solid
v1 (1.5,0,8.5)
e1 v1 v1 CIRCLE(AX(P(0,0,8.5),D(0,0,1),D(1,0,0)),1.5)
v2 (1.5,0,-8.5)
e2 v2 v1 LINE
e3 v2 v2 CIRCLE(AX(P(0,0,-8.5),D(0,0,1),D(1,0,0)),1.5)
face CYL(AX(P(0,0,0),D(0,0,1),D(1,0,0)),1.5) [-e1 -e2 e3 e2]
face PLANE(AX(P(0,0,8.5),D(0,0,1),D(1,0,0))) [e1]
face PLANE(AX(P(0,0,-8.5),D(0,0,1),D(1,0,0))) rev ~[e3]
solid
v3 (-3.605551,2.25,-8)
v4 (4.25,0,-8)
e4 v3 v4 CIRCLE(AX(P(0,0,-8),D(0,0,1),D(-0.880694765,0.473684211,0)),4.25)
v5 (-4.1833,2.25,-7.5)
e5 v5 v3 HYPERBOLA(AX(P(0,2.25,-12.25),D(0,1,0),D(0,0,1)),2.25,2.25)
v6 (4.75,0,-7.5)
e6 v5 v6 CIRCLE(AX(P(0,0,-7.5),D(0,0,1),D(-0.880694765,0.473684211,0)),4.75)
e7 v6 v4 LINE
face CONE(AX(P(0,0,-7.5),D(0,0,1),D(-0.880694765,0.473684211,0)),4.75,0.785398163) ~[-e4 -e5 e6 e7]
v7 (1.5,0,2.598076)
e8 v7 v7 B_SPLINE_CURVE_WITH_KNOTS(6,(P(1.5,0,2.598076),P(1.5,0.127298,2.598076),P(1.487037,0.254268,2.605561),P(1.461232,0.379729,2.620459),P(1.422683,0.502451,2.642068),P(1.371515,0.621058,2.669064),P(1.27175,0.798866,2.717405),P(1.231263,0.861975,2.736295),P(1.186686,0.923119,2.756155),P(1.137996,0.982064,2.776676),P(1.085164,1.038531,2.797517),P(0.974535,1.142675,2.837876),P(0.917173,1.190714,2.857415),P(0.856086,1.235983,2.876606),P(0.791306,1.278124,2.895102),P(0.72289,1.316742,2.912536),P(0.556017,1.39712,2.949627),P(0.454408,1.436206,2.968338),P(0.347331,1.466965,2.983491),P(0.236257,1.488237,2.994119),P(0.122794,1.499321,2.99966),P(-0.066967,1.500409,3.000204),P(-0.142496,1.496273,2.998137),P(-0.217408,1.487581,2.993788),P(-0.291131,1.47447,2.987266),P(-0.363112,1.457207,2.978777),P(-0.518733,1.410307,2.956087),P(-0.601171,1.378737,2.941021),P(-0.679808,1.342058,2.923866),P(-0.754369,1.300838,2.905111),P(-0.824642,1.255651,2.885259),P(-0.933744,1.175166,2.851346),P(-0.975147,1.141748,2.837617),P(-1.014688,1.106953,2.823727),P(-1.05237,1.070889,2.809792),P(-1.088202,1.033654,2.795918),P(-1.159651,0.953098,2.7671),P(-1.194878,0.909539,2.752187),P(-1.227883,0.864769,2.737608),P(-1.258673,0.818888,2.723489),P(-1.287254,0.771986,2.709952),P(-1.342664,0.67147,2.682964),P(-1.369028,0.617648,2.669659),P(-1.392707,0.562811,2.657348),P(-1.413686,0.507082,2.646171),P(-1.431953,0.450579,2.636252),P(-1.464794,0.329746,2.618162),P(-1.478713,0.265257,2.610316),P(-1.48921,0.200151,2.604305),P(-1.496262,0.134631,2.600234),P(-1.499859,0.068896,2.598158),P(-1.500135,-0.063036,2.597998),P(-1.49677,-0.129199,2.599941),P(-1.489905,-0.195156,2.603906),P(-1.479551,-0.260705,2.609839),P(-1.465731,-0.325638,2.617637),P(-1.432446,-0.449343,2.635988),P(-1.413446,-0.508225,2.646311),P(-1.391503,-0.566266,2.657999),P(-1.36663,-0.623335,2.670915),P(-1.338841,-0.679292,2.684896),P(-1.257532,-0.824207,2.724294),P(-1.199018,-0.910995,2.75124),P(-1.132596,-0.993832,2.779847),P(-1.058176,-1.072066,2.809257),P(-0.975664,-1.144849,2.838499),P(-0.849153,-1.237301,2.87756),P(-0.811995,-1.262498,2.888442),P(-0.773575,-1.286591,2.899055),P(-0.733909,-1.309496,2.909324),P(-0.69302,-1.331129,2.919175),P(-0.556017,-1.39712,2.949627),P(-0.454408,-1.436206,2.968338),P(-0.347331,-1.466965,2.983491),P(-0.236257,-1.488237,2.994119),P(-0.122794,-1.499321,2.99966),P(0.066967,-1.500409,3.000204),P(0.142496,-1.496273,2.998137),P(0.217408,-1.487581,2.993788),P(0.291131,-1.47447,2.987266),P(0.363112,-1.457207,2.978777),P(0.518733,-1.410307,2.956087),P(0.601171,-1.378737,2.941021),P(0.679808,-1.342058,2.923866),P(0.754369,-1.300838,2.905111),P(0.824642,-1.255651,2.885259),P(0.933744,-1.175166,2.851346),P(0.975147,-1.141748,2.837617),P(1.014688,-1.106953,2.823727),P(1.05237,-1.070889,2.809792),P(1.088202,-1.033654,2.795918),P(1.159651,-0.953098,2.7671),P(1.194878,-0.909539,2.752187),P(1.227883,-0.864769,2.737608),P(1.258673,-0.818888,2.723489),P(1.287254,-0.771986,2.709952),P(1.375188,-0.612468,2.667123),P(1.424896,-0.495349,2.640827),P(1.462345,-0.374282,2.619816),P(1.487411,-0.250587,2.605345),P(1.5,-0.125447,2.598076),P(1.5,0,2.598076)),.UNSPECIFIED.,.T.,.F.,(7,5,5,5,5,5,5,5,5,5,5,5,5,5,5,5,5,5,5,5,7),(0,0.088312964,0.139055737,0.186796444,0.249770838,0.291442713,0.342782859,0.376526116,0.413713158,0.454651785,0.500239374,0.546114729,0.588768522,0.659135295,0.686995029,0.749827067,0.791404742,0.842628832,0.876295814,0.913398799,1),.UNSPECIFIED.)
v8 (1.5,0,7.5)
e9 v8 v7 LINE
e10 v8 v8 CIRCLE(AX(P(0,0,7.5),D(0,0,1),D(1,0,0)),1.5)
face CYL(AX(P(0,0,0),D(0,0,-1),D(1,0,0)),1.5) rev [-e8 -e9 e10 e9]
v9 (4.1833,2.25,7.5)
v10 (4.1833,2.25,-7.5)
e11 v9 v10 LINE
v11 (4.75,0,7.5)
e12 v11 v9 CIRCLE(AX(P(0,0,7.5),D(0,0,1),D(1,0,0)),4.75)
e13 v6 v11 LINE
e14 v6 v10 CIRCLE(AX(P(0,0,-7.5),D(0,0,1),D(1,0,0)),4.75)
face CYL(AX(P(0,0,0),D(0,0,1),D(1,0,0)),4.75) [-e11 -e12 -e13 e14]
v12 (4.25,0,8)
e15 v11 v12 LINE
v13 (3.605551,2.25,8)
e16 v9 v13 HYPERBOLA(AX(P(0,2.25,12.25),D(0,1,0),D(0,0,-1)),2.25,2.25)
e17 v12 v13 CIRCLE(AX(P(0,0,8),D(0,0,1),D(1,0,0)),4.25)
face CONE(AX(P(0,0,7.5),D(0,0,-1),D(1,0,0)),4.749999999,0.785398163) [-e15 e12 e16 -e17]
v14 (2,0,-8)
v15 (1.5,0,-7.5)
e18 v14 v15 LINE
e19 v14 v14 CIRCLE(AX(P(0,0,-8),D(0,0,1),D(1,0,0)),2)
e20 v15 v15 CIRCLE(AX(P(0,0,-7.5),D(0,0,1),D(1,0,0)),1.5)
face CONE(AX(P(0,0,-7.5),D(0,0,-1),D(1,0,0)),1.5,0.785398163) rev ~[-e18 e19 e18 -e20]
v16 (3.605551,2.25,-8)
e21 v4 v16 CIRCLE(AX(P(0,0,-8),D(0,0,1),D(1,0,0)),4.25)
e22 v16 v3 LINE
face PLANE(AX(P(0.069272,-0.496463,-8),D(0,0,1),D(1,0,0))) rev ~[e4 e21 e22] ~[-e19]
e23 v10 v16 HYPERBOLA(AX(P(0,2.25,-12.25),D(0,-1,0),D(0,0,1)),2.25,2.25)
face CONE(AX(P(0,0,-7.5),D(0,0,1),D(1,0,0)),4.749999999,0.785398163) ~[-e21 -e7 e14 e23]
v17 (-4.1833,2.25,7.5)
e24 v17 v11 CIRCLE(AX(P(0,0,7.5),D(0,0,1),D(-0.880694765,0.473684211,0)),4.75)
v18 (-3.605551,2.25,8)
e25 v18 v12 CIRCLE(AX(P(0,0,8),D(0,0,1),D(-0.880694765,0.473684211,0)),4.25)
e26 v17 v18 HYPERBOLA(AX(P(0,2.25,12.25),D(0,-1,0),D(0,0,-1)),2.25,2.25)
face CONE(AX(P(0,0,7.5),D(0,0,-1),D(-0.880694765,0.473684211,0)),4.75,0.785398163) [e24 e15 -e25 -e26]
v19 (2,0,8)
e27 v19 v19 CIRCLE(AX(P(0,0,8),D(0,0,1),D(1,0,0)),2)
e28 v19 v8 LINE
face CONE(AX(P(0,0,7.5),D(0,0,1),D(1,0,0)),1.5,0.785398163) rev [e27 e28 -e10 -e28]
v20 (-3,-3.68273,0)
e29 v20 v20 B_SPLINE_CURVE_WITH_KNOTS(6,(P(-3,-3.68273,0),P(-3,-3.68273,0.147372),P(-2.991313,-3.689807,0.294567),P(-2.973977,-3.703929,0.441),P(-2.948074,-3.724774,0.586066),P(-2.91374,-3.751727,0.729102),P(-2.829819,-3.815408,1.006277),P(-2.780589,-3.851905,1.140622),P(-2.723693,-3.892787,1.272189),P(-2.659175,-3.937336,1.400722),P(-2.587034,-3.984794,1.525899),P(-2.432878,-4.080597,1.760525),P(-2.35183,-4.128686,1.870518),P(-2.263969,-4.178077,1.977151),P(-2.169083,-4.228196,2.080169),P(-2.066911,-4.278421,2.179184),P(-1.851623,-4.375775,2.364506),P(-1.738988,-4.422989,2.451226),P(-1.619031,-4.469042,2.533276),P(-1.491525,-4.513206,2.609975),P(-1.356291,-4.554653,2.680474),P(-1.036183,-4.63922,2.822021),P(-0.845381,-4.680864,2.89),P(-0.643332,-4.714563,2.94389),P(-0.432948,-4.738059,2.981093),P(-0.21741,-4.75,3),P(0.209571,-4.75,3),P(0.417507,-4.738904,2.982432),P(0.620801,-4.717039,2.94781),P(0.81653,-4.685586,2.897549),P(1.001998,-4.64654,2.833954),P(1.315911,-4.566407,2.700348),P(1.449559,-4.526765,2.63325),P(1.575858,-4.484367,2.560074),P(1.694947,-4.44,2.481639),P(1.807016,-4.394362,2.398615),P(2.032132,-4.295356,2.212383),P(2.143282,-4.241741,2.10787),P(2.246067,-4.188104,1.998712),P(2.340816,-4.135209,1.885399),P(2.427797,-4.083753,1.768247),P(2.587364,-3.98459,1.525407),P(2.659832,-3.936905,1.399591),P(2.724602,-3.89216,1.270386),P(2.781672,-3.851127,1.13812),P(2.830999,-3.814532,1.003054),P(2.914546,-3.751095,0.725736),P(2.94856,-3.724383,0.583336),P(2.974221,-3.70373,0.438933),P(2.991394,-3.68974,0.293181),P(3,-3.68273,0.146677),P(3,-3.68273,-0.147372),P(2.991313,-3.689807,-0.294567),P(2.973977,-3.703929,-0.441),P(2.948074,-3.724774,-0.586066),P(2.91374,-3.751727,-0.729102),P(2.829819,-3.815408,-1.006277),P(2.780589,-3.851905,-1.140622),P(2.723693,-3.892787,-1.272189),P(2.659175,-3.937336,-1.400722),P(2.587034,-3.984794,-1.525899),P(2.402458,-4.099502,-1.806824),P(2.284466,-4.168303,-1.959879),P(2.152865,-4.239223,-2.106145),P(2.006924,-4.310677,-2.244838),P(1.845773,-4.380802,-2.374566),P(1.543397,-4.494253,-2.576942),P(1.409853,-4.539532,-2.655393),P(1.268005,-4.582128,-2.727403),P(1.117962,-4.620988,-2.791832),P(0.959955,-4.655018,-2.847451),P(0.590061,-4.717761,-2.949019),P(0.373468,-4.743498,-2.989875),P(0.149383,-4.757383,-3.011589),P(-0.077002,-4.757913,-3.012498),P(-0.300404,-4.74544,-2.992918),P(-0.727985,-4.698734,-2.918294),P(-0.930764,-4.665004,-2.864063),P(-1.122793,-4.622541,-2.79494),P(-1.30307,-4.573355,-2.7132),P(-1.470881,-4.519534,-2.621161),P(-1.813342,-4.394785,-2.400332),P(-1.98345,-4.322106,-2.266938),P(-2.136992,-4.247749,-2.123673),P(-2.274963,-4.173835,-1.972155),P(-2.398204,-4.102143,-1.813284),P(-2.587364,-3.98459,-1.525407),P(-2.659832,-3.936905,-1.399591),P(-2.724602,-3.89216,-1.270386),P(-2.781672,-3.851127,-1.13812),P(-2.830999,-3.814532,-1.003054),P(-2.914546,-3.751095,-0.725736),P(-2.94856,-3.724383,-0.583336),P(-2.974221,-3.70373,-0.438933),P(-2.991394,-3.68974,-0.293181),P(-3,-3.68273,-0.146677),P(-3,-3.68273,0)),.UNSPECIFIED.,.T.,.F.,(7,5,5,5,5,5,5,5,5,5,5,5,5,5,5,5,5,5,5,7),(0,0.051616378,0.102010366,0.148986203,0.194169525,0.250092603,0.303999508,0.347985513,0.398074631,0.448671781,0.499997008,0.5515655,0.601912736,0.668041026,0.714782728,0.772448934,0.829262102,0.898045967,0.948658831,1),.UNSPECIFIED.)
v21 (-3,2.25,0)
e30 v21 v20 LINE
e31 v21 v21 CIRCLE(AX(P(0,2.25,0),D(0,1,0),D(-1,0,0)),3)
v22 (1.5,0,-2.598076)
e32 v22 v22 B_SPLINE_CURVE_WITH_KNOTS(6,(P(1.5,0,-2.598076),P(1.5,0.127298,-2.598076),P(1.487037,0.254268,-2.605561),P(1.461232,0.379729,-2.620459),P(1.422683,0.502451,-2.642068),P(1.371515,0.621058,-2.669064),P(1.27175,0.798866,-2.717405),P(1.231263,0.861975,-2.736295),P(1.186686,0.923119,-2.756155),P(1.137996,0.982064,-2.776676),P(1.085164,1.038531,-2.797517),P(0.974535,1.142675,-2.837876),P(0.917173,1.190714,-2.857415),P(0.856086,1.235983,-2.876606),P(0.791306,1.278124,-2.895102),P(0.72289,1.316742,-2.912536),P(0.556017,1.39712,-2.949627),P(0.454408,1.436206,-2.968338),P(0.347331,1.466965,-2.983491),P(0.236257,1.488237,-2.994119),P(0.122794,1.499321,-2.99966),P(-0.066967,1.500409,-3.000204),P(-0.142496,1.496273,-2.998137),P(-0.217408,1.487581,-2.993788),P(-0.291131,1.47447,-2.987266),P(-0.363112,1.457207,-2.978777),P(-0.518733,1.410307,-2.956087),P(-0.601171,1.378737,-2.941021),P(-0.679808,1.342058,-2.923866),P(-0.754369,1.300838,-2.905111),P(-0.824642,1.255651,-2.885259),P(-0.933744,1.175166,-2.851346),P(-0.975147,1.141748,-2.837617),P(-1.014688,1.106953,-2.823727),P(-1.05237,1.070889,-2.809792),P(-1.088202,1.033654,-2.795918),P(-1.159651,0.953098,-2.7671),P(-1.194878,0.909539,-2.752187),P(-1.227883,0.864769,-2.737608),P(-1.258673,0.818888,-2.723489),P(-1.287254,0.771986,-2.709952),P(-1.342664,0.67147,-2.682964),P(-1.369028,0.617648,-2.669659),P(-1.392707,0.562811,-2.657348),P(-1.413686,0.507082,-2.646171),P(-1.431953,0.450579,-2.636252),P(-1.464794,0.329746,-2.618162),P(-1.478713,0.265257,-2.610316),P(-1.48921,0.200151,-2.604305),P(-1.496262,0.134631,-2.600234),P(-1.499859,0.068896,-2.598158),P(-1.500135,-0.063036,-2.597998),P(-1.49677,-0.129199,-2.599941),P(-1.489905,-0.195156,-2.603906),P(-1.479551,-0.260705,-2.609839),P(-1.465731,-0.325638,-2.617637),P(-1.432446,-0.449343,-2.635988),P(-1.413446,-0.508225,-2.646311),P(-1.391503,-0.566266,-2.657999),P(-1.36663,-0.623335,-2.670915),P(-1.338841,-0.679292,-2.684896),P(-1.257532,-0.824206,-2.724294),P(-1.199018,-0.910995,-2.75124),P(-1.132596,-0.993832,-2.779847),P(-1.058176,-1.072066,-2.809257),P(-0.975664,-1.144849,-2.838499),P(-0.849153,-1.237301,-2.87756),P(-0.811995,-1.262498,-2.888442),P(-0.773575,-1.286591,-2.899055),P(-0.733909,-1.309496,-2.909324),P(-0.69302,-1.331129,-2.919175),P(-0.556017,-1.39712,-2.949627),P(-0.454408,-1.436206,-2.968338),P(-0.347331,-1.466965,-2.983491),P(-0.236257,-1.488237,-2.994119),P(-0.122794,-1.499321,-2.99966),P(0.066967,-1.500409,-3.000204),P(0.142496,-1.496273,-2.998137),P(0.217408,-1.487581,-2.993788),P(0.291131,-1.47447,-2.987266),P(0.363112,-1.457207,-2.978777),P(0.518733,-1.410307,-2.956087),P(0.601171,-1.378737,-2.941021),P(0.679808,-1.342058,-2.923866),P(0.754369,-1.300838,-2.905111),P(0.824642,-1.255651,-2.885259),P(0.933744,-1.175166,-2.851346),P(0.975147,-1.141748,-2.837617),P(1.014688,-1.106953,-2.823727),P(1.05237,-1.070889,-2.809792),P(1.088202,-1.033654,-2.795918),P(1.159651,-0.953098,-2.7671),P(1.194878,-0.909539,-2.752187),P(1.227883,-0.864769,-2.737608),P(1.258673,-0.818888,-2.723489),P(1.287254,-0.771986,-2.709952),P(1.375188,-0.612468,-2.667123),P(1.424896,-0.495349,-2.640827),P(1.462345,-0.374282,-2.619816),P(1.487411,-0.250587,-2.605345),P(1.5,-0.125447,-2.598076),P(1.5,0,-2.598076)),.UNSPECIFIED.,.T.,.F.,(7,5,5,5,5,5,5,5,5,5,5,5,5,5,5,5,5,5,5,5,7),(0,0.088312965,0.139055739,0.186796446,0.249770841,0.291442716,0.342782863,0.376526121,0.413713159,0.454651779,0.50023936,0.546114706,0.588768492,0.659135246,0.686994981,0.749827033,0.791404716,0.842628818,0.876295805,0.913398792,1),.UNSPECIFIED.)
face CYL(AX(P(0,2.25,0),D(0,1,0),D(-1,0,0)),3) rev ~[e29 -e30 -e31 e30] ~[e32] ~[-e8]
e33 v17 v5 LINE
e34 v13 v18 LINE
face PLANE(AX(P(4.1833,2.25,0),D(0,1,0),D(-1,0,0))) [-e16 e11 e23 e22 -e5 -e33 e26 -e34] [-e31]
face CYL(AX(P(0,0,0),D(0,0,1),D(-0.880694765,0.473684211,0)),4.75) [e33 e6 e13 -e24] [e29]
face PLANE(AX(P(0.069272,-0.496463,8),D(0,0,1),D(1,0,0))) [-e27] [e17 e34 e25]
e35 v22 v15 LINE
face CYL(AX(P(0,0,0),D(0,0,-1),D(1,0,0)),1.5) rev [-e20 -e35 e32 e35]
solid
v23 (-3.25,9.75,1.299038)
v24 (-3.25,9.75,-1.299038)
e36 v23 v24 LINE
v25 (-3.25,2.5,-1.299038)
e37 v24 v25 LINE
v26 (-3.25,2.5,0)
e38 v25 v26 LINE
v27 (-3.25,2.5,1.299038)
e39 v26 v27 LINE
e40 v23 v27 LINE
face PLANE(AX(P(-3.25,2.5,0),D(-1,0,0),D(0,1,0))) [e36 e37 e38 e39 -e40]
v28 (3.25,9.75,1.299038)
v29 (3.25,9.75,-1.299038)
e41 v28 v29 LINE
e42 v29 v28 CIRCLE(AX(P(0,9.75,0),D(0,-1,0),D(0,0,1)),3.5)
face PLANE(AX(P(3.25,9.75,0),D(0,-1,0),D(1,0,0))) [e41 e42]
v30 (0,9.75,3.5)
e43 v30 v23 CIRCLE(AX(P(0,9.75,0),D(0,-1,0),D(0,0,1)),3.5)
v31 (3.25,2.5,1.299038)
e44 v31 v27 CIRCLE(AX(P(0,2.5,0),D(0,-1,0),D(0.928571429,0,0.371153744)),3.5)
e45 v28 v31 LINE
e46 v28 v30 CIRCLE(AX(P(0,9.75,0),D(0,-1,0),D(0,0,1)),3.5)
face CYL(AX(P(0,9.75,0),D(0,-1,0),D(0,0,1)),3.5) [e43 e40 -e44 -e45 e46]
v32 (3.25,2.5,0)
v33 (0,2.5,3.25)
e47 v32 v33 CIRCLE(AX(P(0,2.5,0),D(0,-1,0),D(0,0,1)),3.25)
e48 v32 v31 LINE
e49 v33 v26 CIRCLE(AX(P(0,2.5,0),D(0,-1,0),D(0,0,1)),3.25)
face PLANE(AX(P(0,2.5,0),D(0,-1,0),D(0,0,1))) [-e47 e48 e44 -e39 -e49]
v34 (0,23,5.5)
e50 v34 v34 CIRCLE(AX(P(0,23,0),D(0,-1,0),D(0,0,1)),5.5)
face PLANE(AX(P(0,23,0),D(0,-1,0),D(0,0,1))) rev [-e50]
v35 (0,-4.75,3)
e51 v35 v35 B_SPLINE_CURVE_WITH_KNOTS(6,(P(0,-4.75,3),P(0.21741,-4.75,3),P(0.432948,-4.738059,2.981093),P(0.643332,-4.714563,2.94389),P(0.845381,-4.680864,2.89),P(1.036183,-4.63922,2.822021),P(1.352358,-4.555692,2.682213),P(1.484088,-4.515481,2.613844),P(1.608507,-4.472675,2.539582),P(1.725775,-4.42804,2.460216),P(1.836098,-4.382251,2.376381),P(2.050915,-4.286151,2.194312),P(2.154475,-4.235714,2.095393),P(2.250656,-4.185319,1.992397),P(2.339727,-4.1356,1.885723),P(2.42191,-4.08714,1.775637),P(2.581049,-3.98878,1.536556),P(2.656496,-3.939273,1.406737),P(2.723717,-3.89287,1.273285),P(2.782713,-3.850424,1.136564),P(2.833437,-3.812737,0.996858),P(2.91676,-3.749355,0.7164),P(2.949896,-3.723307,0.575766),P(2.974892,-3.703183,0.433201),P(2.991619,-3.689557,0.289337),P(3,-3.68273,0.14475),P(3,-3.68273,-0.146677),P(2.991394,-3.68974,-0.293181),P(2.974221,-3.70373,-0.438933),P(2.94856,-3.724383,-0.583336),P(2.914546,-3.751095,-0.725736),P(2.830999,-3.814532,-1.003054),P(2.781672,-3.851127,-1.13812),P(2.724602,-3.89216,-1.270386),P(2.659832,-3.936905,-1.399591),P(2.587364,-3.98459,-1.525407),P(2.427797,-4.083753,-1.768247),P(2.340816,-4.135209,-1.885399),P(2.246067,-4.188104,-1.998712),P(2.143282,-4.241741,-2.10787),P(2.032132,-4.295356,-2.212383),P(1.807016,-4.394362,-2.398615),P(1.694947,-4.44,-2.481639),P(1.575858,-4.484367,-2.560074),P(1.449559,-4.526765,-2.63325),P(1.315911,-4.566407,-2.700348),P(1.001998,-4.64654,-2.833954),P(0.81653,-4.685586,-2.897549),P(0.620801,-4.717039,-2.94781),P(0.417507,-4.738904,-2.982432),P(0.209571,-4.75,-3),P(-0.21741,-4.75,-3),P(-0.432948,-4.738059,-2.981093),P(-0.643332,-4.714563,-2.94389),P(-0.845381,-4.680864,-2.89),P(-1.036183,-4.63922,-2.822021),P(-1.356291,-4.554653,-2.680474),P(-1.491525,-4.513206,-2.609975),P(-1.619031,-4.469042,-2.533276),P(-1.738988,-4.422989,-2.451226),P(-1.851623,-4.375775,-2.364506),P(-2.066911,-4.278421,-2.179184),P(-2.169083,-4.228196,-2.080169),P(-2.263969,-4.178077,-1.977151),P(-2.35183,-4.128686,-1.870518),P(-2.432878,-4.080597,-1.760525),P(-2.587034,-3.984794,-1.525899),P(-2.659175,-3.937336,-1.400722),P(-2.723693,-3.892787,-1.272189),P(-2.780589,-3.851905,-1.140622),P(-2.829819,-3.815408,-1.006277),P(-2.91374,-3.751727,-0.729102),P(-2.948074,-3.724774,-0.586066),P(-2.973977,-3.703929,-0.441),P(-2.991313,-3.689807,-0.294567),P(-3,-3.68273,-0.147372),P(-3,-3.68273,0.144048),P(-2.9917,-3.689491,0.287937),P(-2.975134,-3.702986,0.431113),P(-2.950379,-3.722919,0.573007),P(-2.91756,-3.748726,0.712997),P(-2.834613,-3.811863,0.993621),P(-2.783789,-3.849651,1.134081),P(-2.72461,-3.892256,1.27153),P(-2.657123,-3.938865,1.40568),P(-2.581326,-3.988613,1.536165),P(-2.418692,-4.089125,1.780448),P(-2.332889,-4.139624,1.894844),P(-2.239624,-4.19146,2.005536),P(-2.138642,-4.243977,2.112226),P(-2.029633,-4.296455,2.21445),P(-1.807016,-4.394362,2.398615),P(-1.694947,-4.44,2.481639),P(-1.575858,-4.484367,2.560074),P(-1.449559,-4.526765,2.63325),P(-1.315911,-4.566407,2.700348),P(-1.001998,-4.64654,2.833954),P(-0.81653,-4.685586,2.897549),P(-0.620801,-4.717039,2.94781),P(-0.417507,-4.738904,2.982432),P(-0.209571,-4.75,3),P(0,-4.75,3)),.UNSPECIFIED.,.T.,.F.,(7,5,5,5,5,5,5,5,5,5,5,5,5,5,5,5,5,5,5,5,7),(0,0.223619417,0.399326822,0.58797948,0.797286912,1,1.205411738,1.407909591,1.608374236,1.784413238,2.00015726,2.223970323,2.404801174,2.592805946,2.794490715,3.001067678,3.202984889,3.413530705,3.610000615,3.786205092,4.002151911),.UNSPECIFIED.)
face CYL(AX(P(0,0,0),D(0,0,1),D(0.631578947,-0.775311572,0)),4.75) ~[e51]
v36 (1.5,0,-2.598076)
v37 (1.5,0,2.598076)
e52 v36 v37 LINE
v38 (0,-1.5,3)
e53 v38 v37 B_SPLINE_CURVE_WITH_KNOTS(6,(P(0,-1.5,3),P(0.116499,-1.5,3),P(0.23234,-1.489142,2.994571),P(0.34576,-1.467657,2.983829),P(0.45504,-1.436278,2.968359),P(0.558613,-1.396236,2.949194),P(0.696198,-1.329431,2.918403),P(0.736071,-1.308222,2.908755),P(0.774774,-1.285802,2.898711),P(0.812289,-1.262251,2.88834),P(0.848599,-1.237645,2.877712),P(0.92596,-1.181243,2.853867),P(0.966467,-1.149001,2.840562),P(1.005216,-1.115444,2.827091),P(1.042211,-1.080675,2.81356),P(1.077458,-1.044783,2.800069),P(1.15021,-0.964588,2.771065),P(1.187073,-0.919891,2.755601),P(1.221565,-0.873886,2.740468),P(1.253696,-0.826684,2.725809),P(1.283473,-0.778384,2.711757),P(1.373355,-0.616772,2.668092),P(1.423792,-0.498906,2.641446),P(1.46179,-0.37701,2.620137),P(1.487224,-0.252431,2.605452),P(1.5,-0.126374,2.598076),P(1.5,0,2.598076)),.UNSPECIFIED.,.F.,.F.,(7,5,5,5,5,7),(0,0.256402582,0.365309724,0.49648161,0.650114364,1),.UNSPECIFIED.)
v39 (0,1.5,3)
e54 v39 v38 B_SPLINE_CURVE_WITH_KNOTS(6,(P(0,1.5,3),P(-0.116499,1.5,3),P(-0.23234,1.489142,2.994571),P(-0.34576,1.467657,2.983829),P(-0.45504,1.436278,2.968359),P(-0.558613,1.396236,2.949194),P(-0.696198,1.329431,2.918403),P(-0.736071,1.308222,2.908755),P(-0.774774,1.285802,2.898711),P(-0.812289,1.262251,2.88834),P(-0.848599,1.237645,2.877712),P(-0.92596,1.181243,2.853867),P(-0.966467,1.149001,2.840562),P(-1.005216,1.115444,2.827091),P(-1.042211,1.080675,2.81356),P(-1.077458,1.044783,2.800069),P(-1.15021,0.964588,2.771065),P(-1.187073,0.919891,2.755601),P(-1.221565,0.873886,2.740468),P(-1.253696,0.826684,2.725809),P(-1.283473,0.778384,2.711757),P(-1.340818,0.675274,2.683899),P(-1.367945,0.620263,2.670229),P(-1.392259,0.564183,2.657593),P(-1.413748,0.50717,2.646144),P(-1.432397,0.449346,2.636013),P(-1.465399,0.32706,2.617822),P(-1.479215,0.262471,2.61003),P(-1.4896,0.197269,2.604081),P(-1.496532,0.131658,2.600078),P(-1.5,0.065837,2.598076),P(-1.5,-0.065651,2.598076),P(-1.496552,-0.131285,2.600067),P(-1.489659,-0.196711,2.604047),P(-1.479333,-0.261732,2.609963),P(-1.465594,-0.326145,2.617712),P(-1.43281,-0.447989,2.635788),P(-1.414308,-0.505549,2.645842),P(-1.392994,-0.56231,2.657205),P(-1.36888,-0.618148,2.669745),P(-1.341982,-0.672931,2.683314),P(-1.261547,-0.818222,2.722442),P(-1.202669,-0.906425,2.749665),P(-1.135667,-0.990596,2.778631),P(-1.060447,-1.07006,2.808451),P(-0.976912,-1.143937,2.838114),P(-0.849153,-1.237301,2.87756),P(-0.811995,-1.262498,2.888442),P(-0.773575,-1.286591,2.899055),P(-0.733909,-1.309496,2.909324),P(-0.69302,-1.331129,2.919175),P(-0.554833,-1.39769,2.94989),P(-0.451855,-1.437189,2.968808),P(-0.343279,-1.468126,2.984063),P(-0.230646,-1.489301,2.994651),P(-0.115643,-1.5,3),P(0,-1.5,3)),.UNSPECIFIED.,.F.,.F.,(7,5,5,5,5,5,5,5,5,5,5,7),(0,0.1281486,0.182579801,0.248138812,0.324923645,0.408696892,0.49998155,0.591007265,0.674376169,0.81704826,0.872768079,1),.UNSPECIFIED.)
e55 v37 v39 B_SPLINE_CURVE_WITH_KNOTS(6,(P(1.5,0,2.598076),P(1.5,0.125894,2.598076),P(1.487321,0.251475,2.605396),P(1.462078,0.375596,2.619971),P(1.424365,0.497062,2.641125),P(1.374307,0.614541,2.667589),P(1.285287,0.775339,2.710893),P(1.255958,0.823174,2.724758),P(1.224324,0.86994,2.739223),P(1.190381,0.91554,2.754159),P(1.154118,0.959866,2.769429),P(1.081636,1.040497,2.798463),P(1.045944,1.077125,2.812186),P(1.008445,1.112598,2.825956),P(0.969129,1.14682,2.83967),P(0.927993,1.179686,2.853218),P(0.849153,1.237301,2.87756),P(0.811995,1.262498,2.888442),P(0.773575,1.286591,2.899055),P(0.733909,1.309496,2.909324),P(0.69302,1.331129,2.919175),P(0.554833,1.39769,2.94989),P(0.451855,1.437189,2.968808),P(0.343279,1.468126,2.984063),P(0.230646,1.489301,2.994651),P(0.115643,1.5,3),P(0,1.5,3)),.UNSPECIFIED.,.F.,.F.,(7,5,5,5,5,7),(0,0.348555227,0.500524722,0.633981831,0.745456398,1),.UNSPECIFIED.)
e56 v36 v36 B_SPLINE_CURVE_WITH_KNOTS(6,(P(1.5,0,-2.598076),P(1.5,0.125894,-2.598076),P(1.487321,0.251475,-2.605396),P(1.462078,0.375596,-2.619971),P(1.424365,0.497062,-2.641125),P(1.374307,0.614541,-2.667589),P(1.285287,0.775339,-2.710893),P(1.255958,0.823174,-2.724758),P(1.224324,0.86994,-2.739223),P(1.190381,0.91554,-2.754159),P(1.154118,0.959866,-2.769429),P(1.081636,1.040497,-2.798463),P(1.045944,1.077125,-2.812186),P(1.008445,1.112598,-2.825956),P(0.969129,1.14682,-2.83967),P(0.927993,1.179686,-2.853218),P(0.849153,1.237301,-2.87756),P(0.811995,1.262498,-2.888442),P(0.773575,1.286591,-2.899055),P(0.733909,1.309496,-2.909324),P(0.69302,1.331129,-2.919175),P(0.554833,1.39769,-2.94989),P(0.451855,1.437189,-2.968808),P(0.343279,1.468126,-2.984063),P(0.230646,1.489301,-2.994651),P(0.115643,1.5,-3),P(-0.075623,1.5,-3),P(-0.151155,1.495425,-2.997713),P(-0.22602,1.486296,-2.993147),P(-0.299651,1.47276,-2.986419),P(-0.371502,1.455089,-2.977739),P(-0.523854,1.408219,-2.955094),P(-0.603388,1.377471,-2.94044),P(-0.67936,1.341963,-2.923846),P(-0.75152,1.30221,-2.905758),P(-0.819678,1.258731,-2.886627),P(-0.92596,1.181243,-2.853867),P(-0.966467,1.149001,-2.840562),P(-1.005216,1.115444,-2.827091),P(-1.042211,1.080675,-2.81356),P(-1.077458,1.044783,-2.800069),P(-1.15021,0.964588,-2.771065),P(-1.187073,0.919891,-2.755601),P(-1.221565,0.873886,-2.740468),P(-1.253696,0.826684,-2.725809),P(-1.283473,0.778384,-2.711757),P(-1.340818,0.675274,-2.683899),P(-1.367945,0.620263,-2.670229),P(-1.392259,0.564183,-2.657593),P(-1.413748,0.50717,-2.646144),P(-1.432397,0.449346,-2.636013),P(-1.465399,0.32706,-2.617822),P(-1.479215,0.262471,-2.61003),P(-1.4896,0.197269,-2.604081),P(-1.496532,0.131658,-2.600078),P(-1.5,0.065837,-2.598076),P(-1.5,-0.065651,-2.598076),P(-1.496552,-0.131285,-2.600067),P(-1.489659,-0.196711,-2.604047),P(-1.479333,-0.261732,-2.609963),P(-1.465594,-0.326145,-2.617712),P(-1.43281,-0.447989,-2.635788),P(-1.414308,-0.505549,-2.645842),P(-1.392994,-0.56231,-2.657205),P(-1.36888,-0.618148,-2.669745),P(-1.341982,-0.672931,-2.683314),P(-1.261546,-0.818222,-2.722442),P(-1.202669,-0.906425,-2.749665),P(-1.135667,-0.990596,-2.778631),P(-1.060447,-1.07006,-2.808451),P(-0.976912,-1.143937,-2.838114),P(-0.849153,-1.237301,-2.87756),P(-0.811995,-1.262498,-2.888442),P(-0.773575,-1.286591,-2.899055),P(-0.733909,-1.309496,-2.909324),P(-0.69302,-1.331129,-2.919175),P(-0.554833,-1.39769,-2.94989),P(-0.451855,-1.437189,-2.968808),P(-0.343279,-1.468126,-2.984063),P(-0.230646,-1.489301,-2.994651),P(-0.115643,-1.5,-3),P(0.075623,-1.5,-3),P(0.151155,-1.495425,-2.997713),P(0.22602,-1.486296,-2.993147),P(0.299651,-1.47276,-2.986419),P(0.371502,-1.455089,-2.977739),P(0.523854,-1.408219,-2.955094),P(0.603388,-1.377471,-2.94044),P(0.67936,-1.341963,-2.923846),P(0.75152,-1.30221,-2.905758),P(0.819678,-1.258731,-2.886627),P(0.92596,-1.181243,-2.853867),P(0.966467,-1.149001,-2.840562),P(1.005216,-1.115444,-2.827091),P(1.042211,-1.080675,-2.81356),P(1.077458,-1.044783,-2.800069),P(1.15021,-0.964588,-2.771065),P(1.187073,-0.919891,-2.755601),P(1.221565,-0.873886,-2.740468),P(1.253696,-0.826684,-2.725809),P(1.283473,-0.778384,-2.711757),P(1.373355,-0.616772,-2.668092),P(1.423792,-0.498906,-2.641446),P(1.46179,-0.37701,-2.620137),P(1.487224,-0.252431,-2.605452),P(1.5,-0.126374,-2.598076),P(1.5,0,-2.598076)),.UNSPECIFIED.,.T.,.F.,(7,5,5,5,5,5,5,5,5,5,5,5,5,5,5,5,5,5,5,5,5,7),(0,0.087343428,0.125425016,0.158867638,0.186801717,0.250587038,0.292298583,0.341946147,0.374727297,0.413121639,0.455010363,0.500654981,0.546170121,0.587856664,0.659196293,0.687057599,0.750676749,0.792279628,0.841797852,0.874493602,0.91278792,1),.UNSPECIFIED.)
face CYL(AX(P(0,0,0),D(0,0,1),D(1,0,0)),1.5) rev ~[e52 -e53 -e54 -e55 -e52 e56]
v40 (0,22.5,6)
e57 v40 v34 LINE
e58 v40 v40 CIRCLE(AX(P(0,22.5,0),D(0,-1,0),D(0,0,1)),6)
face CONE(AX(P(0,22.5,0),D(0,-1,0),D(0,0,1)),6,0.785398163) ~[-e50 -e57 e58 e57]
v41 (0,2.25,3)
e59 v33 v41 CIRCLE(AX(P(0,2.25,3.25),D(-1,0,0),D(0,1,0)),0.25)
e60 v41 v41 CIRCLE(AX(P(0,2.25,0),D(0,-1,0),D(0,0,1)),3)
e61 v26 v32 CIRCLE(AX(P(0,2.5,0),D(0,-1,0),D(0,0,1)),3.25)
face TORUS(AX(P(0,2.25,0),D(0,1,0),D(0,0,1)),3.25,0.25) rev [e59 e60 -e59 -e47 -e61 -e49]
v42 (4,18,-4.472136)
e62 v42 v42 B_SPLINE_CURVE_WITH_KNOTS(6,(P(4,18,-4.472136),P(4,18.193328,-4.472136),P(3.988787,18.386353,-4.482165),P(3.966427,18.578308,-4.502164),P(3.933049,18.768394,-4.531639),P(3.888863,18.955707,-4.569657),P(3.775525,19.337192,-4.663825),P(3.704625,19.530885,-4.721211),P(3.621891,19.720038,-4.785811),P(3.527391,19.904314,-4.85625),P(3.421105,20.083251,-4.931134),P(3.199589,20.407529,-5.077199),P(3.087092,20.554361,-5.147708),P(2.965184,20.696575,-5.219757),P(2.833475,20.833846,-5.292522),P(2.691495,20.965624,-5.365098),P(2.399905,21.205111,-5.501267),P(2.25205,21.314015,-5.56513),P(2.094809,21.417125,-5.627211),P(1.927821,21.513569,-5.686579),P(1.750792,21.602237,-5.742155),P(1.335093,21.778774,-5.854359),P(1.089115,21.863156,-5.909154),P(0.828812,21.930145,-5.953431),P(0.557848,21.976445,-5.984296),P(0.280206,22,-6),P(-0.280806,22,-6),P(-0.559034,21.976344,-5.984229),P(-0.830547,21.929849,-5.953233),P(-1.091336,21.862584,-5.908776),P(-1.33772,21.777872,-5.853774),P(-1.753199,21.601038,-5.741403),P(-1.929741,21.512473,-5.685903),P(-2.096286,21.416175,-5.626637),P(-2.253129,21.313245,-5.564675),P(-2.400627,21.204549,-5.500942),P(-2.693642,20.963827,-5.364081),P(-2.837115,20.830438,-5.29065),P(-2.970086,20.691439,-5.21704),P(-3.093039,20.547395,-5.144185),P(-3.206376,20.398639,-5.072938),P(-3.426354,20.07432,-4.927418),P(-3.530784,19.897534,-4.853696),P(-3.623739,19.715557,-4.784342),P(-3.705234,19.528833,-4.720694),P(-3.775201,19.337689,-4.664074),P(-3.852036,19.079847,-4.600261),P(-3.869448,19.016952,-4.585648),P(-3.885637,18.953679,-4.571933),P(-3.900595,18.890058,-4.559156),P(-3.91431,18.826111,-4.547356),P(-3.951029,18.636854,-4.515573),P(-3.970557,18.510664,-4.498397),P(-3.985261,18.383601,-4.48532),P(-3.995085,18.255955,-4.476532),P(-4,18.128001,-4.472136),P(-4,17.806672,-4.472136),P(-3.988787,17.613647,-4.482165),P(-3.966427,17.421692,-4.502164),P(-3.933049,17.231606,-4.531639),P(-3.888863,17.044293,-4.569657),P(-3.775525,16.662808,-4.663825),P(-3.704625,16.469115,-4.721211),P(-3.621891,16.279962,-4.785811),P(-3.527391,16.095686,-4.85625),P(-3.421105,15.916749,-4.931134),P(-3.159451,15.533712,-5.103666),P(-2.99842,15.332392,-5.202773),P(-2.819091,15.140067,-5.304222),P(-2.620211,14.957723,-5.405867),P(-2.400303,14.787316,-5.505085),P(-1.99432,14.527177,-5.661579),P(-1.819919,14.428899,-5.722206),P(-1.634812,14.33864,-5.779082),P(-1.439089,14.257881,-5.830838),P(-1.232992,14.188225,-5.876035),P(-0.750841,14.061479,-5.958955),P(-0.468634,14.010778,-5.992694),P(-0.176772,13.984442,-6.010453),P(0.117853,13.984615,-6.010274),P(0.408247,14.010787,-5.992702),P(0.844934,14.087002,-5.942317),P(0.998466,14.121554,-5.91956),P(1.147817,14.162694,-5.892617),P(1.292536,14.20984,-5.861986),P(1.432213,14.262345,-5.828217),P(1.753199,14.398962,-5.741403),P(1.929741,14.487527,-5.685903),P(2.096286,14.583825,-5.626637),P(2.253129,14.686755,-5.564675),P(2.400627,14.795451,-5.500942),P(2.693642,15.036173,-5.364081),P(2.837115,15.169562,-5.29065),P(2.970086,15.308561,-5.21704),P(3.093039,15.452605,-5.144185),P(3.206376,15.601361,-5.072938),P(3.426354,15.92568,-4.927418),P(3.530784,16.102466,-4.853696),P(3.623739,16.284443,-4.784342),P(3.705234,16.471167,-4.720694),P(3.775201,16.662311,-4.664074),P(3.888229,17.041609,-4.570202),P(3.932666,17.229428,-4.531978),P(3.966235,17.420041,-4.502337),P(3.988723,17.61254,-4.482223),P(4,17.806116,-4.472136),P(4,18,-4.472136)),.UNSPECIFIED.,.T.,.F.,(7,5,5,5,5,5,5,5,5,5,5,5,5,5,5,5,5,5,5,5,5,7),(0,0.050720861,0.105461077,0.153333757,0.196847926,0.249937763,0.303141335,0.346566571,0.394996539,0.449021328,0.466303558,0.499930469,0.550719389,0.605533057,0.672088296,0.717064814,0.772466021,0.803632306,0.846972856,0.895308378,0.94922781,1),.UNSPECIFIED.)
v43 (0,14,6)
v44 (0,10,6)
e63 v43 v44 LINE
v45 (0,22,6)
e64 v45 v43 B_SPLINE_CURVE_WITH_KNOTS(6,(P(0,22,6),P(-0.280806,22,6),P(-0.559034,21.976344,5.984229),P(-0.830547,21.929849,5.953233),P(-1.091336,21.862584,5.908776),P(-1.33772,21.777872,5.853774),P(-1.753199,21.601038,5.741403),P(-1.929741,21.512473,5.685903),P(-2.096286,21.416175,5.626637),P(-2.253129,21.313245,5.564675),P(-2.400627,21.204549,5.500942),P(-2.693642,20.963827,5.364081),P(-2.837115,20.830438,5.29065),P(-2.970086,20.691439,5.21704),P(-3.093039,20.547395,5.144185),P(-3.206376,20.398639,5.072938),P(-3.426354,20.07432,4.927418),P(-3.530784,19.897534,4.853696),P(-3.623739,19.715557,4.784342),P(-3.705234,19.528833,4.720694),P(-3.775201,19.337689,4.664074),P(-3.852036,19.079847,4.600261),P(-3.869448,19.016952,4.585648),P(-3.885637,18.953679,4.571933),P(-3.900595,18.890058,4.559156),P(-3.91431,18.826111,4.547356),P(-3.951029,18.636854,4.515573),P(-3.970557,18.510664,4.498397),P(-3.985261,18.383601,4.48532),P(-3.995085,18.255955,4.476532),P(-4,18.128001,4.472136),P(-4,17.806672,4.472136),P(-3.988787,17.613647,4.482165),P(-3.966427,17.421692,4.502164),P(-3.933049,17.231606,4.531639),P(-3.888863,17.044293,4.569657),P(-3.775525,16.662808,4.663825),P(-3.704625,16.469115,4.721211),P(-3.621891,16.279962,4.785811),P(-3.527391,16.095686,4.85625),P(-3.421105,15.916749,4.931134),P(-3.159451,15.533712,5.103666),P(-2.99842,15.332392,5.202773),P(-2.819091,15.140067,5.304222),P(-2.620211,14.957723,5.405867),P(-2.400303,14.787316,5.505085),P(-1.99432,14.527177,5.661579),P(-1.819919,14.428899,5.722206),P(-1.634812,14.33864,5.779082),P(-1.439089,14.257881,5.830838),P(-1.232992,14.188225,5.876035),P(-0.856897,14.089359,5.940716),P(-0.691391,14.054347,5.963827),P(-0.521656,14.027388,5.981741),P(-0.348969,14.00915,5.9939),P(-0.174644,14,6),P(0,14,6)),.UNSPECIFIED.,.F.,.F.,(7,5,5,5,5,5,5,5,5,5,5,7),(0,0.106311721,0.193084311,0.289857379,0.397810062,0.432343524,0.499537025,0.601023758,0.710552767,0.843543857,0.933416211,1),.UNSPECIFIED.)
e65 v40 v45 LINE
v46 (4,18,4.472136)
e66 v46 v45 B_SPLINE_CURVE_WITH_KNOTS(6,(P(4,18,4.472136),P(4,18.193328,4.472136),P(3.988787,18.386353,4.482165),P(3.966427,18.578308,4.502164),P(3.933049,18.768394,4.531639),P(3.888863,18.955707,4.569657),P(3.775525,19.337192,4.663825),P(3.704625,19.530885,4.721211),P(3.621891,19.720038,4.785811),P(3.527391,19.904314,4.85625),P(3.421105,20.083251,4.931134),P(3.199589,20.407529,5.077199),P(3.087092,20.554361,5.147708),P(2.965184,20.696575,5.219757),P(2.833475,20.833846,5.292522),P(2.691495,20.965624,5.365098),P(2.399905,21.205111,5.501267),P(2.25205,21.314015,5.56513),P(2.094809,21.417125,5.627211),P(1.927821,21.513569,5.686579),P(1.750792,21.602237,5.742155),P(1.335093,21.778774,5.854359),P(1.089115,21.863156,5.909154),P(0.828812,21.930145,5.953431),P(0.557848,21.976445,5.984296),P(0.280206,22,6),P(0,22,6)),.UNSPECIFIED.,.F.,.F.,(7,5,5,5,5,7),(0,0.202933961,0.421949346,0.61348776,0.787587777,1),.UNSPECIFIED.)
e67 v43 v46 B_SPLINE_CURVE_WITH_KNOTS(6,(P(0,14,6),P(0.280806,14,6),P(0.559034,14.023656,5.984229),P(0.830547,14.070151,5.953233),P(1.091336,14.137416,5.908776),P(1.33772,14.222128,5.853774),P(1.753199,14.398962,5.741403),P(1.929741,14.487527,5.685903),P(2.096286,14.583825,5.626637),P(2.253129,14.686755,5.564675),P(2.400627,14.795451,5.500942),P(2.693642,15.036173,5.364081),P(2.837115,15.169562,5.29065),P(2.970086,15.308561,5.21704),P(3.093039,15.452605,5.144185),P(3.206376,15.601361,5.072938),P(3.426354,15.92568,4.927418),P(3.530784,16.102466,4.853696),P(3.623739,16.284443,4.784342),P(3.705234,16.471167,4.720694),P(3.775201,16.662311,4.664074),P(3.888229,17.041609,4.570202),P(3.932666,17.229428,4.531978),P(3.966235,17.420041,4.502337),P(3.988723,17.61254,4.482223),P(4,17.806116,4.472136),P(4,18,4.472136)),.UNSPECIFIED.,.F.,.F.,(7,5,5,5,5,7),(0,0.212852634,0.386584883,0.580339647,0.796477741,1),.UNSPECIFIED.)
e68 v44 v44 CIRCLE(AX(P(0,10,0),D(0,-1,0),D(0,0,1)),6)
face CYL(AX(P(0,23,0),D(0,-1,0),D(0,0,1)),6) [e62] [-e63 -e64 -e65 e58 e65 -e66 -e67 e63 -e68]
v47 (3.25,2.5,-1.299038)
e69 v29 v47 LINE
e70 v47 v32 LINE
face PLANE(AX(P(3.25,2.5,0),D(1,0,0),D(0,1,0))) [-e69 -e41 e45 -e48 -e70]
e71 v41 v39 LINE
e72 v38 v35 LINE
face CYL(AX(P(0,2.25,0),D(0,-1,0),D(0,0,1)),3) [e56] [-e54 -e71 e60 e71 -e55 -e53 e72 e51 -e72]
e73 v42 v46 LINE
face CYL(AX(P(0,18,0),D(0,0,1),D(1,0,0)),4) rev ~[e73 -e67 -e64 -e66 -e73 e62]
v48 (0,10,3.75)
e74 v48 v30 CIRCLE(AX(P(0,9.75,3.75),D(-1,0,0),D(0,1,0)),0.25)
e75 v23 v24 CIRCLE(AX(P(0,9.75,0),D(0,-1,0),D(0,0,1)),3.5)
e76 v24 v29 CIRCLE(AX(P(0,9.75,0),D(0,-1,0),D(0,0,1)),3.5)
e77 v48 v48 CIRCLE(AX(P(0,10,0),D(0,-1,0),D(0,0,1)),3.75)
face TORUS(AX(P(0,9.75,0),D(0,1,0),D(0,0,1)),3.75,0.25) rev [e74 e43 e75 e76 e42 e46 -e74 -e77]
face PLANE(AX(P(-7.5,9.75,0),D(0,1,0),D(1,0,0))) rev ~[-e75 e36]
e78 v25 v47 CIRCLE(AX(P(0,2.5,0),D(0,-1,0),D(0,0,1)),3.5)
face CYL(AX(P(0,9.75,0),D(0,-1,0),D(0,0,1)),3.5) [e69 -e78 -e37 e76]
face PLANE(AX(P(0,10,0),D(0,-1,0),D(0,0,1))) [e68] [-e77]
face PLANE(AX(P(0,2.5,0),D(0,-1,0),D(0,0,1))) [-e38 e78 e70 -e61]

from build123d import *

# Parameters (mm, degrees)
F0_R      = 1.5
F1_DEPTH  = 8
F2_SIZE   = 0.5
F3_R      = 3
F4_DEPTH  = 7.001
F7_W      = 4.25
F7_H      = 7.25
F8_DEPTH  = 12.5
F9_R      = 1.5
F10_DEPTH = 12.5
F12_DEPTH = 12.5
F13_R     = 4
F14_DEPTH = 12.5
F15_SIZE  = 0.5
F16_R     = 1.5
F17_DEPTH = 8.5
F18_SIZE  = 0.5


with BuildPart() as f1:
    # F0 (on Top) → F1 (new body, symmetric)
    with BuildSketch(Plane.XY):
        with BuildLine():
            ThreePointArc((-4.1833001327, 2.25), (-1.1601345547, -4.6061467427), (4.75, 0))
            ThreePointArc((4.75, 0), (4.6061467427, 1.1601345547), (4.1833001327, 2.25))
            Line((4.1833001327, 2.25), (-4.1833001327, 2.25))
        make_face()
        Circle(F0_R, mode=Mode.SUBTRACT)
    extrude(amount=F1_DEPTH, both=True)

    # F2
    f2_edges = [f1.edges().sort_by_distance(p)[0] for p in [
        (0, -4.75, 8),
        (0, -4.75, -8),
    ]]
    chamfer(f2_edges, length=F2_SIZE)

    # F3 (on face) → F4 (cut, through all)
    with BuildSketch(Plane(origin=(0, 2.25, 0), x_dir=(-1, 0, 0), z_dir=(0, 1, 0))):
        Circle(F3_R)
    extrude(amount=-F4_DEPTH, mode=Mode.SUBTRACT)

    # F18
    f18_edges = [f1.edges().sort_by_distance(p)[0] for p in [
        (-1.5, 0, 8),
        (-1.5, 0, -8),
    ]]
    chamfer(f18_edges, length=F18_SIZE)


with BuildPart() as f6:
    # F5 (on Right) → F6 (revolve)
    with BuildSketch(Plane.YZ):
        with BuildLine():
            Line((-5, 3), (-5, 0))
            Line((-5, 0), (23, 0))
            Line((23, 0), (23, 6))
            Line((23, 6), (10, 6))
            Line((10, 6), (10, 3.75))
            ThreePointArc((10, 3.75), (9.9267766953, 3.5732233047), (9.75, 3.5))
            Line((9.75, 3.5), (2.5, 3.5))
            Line((2.5, 3.5), (2.5, 3.25))
            ThreePointArc((2.5, 3.25), (2.4267766953, 3.0732233047), (2.25, 3))
            Line((2.25, 3), (-5, 3))
        make_face()
    revolve(axis=Axis((0, 9, 0), (0, -1, 0)))

    # F7 (on Top) → F8 (cut, symmetric)
    with BuildSketch(Plane.XY):
        with Locations((-5.375, 6.125)):
            Rectangle(F7_W, F7_H)
        with Locations((5.375, 6.125)):
            Rectangle(F7_W, F7_H)
    extrude(amount=F8_DEPTH, both=True, mode=Mode.SUBTRACT)

    # F9 (on Top) → F10 (cut, symmetric)
    with BuildSketch(Plane.XY):
        Circle(F9_R)
    extrude(amount=F10_DEPTH, both=True, mode=Mode.SUBTRACT)

    # F11 (on Top) → F12 (cut, symmetric)
    with BuildSketch(Plane.XY):
        with BuildLine():
            ThreePointArc((3, -3.6827299657), (0, -4.75), (-3, -3.6827299657))
            Line((-3, -3.6827299657), (-3, -5.6827299657))
            Line((-3, -5.6827299657), (3, -5.6827299657))
            Line((3, -5.6827299657), (3, -3.6827299657))
        make_face()
    extrude(amount=F12_DEPTH, both=True, mode=Mode.SUBTRACT)

    # F13 (on Top) → F14 (cut, symmetric)
    with BuildSketch(Plane.XY):
        with Locations((0, 18)):
            Circle(F13_R)
    extrude(amount=F14_DEPTH, both=True, mode=Mode.SUBTRACT)

    # F15
    f15_edges = [f6.edges().sort_by_distance(p)[0] for p in [
        (0, 23, -6),
    ]]
    chamfer(f15_edges, length=F15_SIZE)


with BuildPart() as f17:
    # F16 (on Top) → F17 (new body, symmetric)
    with BuildSketch(Plane.XY):
        Circle(F16_R)
    extrude(amount=F17_DEPTH, both=True)


solid = Compound([f1.part, f6.part, f17.part])
